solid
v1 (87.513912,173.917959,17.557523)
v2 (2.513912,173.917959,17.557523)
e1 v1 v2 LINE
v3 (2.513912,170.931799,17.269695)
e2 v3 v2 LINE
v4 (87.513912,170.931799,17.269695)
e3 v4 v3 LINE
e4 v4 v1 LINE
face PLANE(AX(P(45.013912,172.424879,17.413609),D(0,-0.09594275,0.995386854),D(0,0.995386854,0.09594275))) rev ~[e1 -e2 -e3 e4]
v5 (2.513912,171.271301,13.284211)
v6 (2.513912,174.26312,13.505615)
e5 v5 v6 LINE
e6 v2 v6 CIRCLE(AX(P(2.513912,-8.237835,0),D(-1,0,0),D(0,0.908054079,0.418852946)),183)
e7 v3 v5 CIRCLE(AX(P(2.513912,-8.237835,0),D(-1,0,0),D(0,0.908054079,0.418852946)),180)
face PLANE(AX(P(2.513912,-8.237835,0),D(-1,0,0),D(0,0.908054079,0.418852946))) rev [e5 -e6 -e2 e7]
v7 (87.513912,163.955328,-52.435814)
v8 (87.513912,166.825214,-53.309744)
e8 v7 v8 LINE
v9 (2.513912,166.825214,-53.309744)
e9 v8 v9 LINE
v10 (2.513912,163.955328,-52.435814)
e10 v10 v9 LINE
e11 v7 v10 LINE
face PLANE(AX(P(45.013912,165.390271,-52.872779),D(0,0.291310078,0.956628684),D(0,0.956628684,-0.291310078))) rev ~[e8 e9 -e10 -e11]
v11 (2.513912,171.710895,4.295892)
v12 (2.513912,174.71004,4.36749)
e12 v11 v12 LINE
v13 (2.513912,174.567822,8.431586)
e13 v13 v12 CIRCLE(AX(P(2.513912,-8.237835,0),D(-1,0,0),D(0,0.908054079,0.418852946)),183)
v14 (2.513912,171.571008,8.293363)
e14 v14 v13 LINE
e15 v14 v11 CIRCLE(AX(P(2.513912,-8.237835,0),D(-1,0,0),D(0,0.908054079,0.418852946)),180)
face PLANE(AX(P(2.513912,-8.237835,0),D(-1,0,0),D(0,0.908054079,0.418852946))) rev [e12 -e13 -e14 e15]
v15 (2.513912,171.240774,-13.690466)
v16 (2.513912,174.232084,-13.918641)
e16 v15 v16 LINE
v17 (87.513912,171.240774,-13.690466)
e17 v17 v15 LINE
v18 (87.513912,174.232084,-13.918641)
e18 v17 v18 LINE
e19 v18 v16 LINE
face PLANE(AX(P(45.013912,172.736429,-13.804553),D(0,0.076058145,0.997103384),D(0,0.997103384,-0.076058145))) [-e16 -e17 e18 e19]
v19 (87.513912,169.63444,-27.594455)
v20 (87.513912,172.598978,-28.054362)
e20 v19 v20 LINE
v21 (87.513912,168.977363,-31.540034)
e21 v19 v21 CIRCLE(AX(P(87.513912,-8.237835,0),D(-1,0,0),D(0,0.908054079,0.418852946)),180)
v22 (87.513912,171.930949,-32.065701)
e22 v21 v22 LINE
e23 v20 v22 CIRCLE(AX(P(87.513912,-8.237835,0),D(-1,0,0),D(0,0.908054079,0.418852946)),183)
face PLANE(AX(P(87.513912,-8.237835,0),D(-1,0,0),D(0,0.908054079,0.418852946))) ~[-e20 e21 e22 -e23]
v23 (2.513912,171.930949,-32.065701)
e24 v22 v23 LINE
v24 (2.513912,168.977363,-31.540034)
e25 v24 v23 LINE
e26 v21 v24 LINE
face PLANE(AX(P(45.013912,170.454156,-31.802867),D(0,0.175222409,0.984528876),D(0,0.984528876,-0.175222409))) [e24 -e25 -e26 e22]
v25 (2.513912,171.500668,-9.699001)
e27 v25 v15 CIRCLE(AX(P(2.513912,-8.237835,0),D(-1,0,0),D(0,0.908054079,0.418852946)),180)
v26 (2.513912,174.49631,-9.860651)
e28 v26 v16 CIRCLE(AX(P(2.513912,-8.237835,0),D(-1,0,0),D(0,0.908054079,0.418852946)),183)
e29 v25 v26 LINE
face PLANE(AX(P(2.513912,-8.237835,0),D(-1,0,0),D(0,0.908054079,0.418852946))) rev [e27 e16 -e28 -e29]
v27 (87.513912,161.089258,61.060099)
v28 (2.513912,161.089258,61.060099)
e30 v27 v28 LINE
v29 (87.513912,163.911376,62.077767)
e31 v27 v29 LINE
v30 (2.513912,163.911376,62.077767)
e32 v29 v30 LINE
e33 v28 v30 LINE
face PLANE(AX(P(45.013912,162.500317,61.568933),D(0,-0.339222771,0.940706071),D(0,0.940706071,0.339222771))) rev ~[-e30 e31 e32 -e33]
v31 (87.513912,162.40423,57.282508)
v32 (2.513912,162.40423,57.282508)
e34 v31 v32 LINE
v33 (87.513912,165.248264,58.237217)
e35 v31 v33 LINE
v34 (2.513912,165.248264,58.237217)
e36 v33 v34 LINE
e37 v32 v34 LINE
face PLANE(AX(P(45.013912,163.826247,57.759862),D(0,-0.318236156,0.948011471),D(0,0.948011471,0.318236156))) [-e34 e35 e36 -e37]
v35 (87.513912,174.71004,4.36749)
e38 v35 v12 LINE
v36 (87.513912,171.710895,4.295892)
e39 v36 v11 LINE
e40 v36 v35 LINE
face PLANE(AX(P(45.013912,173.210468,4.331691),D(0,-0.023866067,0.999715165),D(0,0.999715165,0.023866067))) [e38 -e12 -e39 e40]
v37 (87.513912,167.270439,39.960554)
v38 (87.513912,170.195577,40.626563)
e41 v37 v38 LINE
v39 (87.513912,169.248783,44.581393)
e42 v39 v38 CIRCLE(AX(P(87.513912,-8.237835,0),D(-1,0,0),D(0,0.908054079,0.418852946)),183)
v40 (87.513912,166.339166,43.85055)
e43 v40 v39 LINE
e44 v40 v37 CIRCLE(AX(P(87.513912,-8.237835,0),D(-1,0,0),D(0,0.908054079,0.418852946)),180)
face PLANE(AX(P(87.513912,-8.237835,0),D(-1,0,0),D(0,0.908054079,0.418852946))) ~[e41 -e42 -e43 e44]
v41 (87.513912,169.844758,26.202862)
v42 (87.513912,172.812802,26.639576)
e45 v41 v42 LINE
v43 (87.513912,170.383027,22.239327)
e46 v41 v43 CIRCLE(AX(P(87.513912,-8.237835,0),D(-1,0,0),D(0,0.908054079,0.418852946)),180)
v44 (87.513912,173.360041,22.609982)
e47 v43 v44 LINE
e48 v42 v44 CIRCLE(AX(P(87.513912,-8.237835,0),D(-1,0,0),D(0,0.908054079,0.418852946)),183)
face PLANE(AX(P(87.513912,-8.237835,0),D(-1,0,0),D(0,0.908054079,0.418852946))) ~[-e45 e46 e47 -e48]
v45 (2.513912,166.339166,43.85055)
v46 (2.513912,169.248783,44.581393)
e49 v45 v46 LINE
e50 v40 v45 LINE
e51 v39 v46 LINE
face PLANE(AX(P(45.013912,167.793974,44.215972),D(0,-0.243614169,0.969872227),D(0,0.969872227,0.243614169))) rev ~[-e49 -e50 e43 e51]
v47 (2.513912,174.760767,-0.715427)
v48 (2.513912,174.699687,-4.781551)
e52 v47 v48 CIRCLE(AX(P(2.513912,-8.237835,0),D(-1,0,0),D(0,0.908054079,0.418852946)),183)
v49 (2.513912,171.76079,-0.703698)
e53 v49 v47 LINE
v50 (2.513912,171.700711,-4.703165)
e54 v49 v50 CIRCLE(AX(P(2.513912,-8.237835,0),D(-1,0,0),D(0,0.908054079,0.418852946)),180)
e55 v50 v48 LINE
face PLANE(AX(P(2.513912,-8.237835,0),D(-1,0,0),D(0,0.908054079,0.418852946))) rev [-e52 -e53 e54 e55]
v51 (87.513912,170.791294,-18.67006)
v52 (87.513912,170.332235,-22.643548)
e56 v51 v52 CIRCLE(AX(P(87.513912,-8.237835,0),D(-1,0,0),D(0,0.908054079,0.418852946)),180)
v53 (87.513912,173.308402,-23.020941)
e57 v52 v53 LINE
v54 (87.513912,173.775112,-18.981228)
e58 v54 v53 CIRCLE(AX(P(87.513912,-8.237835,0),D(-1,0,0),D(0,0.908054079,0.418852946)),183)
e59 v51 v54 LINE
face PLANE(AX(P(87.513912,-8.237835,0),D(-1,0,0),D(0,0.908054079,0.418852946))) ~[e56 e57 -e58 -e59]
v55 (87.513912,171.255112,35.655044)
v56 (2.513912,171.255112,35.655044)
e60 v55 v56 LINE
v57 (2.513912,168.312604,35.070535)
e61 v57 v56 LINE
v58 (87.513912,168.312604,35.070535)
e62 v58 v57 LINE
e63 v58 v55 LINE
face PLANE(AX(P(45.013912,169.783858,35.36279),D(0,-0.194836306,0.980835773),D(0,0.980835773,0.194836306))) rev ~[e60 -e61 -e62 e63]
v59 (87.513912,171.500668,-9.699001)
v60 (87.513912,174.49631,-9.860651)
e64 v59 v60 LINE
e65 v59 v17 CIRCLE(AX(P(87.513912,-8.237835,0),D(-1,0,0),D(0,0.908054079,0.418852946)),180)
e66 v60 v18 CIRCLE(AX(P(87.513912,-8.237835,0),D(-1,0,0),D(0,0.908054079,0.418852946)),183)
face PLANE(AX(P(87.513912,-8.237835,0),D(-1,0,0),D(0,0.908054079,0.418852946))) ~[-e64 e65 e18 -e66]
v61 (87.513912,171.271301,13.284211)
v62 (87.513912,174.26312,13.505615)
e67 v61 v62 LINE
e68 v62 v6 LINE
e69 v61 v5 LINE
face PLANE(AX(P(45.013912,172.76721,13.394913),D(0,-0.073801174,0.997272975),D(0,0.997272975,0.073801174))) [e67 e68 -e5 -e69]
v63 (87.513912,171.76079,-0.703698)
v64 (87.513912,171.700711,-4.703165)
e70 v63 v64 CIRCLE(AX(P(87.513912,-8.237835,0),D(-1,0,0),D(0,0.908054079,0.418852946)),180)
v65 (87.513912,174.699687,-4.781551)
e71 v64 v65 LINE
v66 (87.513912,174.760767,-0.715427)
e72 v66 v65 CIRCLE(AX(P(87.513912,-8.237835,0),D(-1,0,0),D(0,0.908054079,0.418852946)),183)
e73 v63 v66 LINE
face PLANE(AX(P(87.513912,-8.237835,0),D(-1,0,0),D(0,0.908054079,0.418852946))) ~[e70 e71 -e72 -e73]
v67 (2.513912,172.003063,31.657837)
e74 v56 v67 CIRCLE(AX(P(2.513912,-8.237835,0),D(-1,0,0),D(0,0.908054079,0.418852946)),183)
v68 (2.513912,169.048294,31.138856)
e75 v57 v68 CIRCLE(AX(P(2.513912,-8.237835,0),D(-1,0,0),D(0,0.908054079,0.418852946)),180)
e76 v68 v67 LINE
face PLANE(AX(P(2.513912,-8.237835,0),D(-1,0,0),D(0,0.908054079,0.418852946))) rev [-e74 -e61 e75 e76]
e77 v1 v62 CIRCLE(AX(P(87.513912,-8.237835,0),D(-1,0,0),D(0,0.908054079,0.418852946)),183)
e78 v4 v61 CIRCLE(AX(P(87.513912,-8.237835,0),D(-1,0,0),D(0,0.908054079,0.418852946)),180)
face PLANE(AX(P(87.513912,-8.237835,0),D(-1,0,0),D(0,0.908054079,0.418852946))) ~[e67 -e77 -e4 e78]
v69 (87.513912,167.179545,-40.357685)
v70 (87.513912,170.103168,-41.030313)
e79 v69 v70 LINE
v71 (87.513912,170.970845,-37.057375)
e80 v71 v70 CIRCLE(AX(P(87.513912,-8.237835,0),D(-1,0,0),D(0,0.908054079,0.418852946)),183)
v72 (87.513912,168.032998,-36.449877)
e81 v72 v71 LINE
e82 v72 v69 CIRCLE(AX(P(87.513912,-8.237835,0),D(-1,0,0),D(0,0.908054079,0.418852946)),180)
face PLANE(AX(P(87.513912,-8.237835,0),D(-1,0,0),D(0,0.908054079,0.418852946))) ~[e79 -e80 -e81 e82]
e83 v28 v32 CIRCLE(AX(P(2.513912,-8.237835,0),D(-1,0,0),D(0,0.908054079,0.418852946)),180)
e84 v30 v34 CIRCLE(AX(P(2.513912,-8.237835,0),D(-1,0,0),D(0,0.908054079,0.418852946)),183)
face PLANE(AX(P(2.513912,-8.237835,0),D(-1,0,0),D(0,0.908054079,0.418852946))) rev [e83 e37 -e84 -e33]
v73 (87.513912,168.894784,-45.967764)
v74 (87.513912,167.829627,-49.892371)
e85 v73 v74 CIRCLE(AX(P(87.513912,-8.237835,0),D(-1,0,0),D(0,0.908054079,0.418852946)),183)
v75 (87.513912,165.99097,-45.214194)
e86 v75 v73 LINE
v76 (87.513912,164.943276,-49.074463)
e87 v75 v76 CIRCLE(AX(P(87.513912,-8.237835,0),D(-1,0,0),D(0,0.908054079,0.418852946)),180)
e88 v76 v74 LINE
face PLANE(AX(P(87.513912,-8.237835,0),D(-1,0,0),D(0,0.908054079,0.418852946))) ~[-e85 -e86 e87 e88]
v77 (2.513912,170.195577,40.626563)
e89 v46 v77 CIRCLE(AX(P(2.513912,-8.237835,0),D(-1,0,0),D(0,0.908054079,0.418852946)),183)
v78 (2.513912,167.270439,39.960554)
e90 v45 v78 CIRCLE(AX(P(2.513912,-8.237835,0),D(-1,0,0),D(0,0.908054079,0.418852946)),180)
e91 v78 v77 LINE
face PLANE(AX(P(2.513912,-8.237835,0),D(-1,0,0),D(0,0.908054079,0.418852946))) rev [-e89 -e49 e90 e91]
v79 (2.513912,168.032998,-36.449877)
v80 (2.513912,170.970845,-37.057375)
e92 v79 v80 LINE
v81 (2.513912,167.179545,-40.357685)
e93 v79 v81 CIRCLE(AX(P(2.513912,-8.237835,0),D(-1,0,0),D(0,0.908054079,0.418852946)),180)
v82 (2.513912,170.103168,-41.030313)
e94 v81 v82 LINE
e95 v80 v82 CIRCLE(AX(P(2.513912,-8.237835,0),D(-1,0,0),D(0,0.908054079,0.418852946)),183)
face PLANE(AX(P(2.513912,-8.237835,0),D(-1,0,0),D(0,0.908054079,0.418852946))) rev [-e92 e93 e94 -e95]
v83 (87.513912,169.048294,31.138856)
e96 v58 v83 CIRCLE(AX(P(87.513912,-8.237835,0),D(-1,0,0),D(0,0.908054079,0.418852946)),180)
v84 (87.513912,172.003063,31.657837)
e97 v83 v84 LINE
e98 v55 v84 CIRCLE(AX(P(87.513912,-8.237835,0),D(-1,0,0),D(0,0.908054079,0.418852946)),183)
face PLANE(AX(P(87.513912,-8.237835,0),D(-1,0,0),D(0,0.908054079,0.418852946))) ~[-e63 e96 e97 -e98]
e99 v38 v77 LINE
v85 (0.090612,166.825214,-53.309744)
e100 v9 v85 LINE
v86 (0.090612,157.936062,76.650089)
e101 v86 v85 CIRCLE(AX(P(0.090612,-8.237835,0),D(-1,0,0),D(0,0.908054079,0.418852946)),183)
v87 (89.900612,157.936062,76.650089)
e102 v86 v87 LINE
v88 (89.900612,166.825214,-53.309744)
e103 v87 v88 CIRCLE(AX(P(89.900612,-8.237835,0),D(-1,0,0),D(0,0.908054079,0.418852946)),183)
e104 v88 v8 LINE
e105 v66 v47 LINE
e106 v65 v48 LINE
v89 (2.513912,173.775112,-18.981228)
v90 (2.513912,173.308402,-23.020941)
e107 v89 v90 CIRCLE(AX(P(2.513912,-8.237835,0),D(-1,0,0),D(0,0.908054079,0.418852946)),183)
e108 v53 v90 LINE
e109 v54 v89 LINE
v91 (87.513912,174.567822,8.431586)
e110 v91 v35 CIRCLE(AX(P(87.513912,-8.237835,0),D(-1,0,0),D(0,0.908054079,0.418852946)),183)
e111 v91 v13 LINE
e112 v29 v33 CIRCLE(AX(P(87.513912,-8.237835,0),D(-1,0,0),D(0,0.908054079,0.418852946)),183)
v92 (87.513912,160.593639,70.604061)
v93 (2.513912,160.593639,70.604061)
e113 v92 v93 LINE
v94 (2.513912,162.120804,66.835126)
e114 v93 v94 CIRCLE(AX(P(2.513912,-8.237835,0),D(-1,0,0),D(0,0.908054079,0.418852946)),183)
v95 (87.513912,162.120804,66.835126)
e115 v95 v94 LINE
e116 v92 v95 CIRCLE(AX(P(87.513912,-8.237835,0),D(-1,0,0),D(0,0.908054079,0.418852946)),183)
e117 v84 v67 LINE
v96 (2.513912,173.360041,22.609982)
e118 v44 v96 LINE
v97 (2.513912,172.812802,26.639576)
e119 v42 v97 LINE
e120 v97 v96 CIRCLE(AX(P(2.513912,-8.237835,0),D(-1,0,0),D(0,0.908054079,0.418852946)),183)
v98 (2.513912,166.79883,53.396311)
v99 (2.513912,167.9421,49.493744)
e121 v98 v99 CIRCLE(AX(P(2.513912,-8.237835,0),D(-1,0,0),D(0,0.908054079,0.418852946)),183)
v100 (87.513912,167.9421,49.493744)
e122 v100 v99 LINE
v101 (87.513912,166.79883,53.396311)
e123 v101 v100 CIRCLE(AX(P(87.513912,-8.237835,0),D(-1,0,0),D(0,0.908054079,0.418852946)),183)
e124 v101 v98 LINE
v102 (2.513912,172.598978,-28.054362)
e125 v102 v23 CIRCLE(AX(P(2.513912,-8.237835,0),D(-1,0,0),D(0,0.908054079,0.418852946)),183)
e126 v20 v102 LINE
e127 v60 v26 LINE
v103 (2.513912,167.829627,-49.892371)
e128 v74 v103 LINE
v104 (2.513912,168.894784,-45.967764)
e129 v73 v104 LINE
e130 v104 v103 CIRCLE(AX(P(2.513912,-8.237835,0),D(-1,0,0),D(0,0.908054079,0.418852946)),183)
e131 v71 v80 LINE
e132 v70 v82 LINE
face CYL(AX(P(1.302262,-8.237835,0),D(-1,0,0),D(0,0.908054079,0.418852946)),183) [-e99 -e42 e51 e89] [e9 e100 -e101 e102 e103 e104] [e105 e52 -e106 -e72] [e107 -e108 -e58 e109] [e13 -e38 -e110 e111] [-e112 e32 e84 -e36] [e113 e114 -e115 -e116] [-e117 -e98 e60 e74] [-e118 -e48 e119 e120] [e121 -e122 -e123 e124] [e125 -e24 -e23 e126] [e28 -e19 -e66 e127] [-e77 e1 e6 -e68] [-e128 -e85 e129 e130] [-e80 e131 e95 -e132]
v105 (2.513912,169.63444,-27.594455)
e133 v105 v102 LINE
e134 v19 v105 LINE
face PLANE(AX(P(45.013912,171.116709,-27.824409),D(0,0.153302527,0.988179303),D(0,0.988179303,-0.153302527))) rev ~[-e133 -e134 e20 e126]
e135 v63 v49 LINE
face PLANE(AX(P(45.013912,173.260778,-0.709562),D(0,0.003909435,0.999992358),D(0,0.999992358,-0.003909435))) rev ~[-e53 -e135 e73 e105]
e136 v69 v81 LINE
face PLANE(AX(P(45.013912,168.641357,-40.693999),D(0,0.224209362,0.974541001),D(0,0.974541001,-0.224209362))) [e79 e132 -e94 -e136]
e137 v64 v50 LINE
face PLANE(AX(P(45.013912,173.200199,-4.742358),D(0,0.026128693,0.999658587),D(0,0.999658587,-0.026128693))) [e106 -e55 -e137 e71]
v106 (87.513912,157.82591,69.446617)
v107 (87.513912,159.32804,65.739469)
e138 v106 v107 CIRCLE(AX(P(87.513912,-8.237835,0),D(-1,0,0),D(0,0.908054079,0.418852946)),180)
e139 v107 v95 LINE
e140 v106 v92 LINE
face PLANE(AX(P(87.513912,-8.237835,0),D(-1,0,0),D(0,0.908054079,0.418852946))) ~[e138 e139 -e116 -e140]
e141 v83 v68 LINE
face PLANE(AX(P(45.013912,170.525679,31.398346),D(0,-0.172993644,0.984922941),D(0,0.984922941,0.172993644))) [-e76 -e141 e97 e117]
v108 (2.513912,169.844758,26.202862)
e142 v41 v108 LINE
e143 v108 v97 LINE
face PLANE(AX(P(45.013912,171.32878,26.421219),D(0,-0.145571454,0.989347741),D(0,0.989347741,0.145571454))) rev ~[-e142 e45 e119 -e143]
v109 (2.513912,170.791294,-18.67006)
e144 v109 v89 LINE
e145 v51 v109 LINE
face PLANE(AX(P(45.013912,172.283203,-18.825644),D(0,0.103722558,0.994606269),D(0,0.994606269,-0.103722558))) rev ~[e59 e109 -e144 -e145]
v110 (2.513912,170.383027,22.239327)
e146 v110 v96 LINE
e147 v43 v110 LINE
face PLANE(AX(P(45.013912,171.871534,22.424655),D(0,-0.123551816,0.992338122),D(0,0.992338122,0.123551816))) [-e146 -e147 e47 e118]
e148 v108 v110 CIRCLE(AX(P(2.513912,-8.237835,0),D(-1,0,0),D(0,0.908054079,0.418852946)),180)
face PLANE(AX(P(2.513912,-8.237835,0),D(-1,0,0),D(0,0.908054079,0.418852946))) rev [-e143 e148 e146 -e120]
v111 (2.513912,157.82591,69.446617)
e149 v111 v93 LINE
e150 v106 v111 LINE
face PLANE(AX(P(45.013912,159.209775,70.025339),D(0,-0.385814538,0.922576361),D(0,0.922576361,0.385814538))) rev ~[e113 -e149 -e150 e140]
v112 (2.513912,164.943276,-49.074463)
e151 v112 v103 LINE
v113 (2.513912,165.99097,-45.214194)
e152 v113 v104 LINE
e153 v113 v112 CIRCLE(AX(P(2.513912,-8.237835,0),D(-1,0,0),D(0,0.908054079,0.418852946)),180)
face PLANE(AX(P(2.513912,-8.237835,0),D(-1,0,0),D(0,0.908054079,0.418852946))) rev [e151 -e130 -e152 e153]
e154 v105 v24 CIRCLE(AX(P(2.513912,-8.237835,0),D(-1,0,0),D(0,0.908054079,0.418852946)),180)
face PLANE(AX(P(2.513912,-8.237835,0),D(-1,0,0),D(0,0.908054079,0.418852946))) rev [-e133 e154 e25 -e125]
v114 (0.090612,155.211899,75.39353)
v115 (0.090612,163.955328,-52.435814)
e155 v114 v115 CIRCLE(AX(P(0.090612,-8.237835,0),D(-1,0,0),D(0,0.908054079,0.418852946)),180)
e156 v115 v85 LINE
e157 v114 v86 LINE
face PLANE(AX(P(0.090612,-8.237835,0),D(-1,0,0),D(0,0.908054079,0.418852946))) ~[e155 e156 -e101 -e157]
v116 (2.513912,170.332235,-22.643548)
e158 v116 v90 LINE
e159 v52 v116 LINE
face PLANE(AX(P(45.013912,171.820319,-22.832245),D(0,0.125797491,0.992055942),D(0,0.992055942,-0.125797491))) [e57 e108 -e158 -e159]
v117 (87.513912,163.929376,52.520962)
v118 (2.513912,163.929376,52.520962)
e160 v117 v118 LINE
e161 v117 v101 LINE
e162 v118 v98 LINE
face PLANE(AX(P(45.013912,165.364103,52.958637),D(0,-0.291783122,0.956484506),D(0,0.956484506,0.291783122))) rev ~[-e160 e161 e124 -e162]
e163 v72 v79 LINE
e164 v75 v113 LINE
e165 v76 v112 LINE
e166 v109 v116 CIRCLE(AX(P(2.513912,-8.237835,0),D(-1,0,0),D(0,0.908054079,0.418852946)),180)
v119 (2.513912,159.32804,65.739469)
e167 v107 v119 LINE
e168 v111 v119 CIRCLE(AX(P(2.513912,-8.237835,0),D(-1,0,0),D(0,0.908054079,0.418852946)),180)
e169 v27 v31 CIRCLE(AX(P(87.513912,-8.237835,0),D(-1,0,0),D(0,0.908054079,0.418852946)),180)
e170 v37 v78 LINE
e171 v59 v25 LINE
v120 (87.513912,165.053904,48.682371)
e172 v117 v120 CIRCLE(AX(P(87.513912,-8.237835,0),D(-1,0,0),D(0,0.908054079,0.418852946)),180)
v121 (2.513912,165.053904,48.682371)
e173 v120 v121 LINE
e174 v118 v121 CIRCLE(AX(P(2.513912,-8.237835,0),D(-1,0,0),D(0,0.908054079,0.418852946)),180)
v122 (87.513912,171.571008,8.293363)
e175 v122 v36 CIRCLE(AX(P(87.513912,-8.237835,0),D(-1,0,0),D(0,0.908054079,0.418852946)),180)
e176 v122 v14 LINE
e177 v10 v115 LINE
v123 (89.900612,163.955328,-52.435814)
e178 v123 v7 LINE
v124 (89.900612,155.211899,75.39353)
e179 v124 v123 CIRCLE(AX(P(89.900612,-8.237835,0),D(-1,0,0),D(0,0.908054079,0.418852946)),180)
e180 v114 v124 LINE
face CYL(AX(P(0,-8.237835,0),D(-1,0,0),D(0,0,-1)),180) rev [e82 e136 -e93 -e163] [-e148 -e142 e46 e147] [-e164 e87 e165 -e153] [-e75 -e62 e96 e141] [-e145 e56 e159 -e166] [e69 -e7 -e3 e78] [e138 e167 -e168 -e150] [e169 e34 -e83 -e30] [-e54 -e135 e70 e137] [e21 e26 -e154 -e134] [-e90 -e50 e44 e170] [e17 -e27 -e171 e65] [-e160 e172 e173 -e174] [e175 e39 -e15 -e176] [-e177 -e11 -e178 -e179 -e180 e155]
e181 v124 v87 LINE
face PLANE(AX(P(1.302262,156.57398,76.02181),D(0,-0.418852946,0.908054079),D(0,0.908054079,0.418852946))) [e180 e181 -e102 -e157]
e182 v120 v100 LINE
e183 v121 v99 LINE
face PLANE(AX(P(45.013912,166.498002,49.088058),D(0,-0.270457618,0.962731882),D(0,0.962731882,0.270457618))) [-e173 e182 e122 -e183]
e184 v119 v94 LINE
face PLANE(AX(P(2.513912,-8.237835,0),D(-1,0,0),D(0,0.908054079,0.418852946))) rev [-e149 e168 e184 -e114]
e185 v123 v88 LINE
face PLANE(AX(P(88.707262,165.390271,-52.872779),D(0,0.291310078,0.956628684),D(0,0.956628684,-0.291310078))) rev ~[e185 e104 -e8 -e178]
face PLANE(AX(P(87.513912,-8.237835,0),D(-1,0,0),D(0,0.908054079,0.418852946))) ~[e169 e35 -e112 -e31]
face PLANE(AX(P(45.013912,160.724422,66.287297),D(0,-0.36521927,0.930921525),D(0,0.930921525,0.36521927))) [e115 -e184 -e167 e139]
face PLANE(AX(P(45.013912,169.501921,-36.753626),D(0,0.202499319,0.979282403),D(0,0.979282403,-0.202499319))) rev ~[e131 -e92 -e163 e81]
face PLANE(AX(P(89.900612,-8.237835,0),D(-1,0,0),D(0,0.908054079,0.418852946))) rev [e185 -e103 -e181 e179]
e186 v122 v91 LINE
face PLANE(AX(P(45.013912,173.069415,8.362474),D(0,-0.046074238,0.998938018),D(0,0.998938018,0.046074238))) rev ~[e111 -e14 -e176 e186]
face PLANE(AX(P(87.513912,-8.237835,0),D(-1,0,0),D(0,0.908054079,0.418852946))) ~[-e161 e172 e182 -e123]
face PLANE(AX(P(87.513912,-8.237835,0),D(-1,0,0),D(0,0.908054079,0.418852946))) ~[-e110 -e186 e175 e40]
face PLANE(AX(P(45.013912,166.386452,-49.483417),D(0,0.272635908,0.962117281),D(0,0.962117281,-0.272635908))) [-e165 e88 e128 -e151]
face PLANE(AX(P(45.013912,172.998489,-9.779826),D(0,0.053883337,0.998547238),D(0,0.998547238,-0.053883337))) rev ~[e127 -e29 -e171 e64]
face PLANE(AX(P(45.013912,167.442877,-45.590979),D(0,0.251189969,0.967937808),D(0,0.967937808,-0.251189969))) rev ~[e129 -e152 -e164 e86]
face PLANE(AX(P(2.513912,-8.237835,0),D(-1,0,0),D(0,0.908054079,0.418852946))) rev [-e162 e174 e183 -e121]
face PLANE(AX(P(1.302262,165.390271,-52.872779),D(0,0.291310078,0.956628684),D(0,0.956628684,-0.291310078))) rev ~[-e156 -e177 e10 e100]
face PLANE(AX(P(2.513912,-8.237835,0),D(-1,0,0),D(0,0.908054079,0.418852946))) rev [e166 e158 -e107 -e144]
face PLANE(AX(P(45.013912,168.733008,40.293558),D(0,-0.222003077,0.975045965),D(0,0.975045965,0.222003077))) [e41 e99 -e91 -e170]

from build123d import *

# Parameters (mm, degrees)
SKETCH2_R                 = 180
SKETCH2_R_2               = 178
EXTRUDE_THIN1_DEPTH       = 90
WRAP1_SECTION_W           = 3
WRAP1_SECTION_H           = 2.3866999
WRAP1_ANGLE               = 41.69859509
WRAP1_SECTOR_2_SECTION_W  = 3
WRAP1_SECTOR_2_SECTION_H  = 85
WRAP1_SECTOR_2_ANGLE      = 2.067873213
WRAP1_SECTOR_3_SECTION_W  = 3
WRAP1_SECTOR_3_SECTION_H  = 85
WRAP1_SECTOR_3_ANGLE      = 1.591549431
WRAP1_SECTOR_4_SECTION_W  = 3
WRAP1_SECTOR_4_SECTION_H  = 85
WRAP1_SECTOR_4_ANGLE      = 1.591549431
WRAP1_SECTOR_5_SECTION_W  = 3
WRAP1_SECTOR_5_SECTION_H  = 85
WRAP1_SECTOR_5_ANGLE      = 1.591549431
WRAP1_SECTOR_6_SECTION_W  = 3
WRAP1_SECTOR_6_SECTION_H  = 85
WRAP1_SECTOR_6_ANGLE      = 1.591549431
WRAP1_SECTOR_7_SECTION_W  = 3
WRAP1_SECTOR_7_SECTION_H  = 85
WRAP1_SECTOR_7_ANGLE      = 1.591549431
WRAP1_SECTOR_8_SECTION_W  = 3
WRAP1_SECTOR_8_SECTION_H  = 85
WRAP1_SECTOR_8_ANGLE      = 1.591549431
WRAP1_SECTOR_9_SECTION_W  = 3
WRAP1_SECTOR_9_SECTION_H  = 85
WRAP1_SECTOR_9_ANGLE      = 1.591549431
WRAP1_SECTOR_10_SECTION_W = 3
WRAP1_SECTOR_10_SECTION_H = 85
WRAP1_SECTOR_10_ANGLE     = 1.591549431
WRAP1_SECTOR_11_SECTION_W = 3
WRAP1_SECTOR_11_SECTION_H = 85
WRAP1_SECTOR_11_ANGLE     = 1.591549431
WRAP1_SECTOR_12_SECTION_W = 3
WRAP1_SECTOR_12_SECTION_H = 85
WRAP1_SECTOR_12_ANGLE     = 1.591549431
WRAP1_SECTOR_13_SECTION_W = 3
WRAP1_SECTOR_13_SECTION_H = 85
WRAP1_SECTOR_13_ANGLE     = 1.591549431
WRAP1_SECTOR_14_SECTION_W = 3
WRAP1_SECTOR_14_SECTION_H = 85
WRAP1_SECTOR_14_ANGLE     = 1.591549431
WRAP1_SECTOR_15_SECTION_W = 3
WRAP1_SECTOR_15_SECTION_H = 85
WRAP1_SECTOR_15_ANGLE     = 1.591549431
WRAP1_SECTOR_16_SECTION_W = 3
WRAP1_SECTOR_16_SECTION_H = 85
WRAP1_SECTOR_16_ANGLE     = 1.115225649
WRAP1_SECTOR_17_SECTION_W = 3
WRAP1_SECTOR_17_SECTION_H = 2.4233001
WRAP1_SECTOR_17_ANGLE     = 41.69859509
SKETCH5_R                 = 180
CUT_EXTRUDE1_DEPTH        = 119


with BuildPart() as part:
    # Sketch2 → Extrude-Thin1 (new body)
    with BuildSketch(Plane(origin=(0, 0, 0), x_dir=(0, 0, -1), z_dir=(1, 0, 0))):
        with Locations((0, -8.237834894)):
            Circle(SKETCH2_R)
        with Locations((0, -8.237834894)):
            Circle(SKETCH2_R_2, mode=Mode.SUBTRACT)
    extrude(amount=EXTRUDE_THIN1_DEPTH)

    # Wrap1 section (on wrap section) → Wrap1 (revolve)
    with BuildSketch(Plane(origin=(0, -8.237834894, 0), x_dir=(0, 0.9080540786996547, 0.41885294574220344), z_dir=(0, -0.41885294574220344, 0.9080540786996547))):
        with Locations((181.5, -88.70726195)):
            Rectangle(WRAP1_SECTION_W, WRAP1_SECTION_H)
    revolve(axis=Axis((0, -8.237834894, 0), (-1, 0, 0)), revolution_arc=WRAP1_ANGLE)

    # Wrap1 sector 2 section (on wrap section) → Wrap1 sector 2 (revolve)
    with BuildSketch(Plane(origin=(0, -8.237834894, 0), x_dir=(0, 0.9080540786996547, 0.41885294574220344), z_dir=(0, -0.41885294574220344, 0.9080540786996547))):
        with Locations((181.5, -45.013912)):
            Rectangle(WRAP1_SECTOR_2_SECTION_W, WRAP1_SECTOR_2_SECTION_H)
    revolve(axis=Axis((0, -8.237834894, 0), (-1, 0, 0)), revolution_arc=WRAP1_SECTOR_2_ANGLE)

    # Wrap1 sector 3 section (on wrap section) → Wrap1 sector 3 (revolve)
    with BuildSketch(Plane(origin=(0, -8.237834894, 0), x_dir=(0, 0.9309215245835882, 0.3652192698461676), z_dir=(0, -0.3652192698461676, 0.9309215245835882))):
        with Locations((181.5, -45.013912)):
            Rectangle(WRAP1_SECTOR_3_SECTION_W, WRAP1_SECTOR_3_SECTION_H)
    revolve(axis=Axis((0, -8.237834894, 0), (-1, 0, 0)), revolution_arc=WRAP1_SECTOR_3_ANGLE)

    # Wrap1 sector 4 section (on wrap section) → Wrap1 sector 4 (revolve)
    with BuildSketch(Plane(origin=(0, -8.237834894, 0), x_dir=(0, 0.9480114707936929, 0.3182361564052382), z_dir=(0, -0.3182361564052382, 0.9480114707936929))):
        with Locations((181.5, -45.013912)):
            Rectangle(WRAP1_SECTOR_4_SECTION_W, WRAP1_SECTOR_4_SECTION_H)
    revolve(axis=Axis((0, -8.237834894, 0), (-1, 0, 0)), revolution_arc=WRAP1_SECTOR_4_ANGLE)

    # Wrap1 sector 5 section (on wrap section) → Wrap1 sector 5 (revolve)
    with BuildSketch(Plane(origin=(0, -8.237834894, 0), x_dir=(0, 0.9627318820416432, 0.2704576183074822), z_dir=(0, -0.2704576183074822, 0.9627318820416432))):
        with Locations((181.5, -45.013912)):
            Rectangle(WRAP1_SECTOR_5_SECTION_W, WRAP1_SECTOR_5_SECTION_H)
    revolve(axis=Axis((0, -8.237834894, 0), (-1, 0, 0)), revolution_arc=WRAP1_SECTOR_5_ANGLE)

    # Wrap1 sector 6 section (on wrap section) → Wrap1 sector 6 (revolve)
    with BuildSketch(Plane(origin=(0, -8.237834894, 0), x_dir=(0, 0.9750459649655612, 0.22200307701556227), z_dir=(0, -0.22200307701556227, 0.9750459649655612))):
        with Locations((181.5, -45.013912)):
            Rectangle(WRAP1_SECTOR_6_SECTION_W, WRAP1_SECTOR_6_SECTION_H)
    revolve(axis=Axis((0, -8.237834894, 0), (-1, 0, 0)), revolution_arc=WRAP1_SECTOR_6_ANGLE)

    # Wrap1 sector 7 section (on wrap section) → Wrap1 sector 7 (revolve)
    with BuildSketch(Plane(origin=(0, -8.237834894, 0), x_dir=(0, 0.9849229407711876, 0.17299364364807088), z_dir=(0, -0.17299364364807088, 0.9849229407711876))):
        with Locations((181.5, -45.013912)):
            Rectangle(WRAP1_SECTOR_7_SECTION_W, WRAP1_SECTOR_7_SECTION_H)
    revolve(axis=Axis((0, -8.237834894, 0), (-1, 0, 0)), revolution_arc=WRAP1_SECTOR_7_ANGLE)

    # Wrap1 sector 8 section (on wrap section) → Wrap1 sector 8 (revolve)
    with BuildSketch(Plane(origin=(0, -8.237834894, 0), x_dir=(0, 0.9923381221628379, 0.1235518162648073), z_dir=(0, -0.1235518162648073, 0.9923381221628379))):
        with Locations((181.5, -45.013912)):
            Rectangle(WRAP1_SECTOR_8_SECTION_W, WRAP1_SECTOR_8_SECTION_H)
    revolve(axis=Axis((0, -8.237834894, 0), (-1, 0, 0)), revolution_arc=WRAP1_SECTOR_8_ANGLE)

    # Wrap1 sector 9 section (on wrap section) → Wrap1 sector 9 (revolve)
    with BuildSketch(Plane(origin=(0, -8.237834894, 0), x_dir=(0, 0.9972729750487846, 0.07380117368542383), z_dir=(0, -0.07380117368542383, 0.9972729750487846))):
        with Locations((181.5, -45.013912)):
            Rectangle(WRAP1_SECTOR_9_SECTION_W, WRAP1_SECTOR_9_SECTION_H)
    revolve(axis=Axis((0, -8.237834894, 0), (-1, 0, 0)), revolution_arc=WRAP1_SECTOR_9_ANGLE)

    # Wrap1 sector 10 section (on wrap section) → Wrap1 sector 10 (revolve)
    with BuildSketch(Plane(origin=(0, -8.237834894, 0), x_dir=(0, 0.9997151648668349, 0.02386606660673497), z_dir=(0, -0.02386606660673497, 0.9997151648668349))):
        with Locations((181.5, -45.013912)):
            Rectangle(WRAP1_SECTOR_10_SECTION_W, WRAP1_SECTOR_10_SECTION_H)
    revolve(axis=Axis((0, -8.237834894, 0), (-1, 0, 0)), revolution_arc=WRAP1_SECTOR_10_ANGLE)

    # Wrap1 sector 11 section (on wrap section) → Wrap1 sector 11 (revolve)
    with BuildSketch(Plane(origin=(0, -8.237834894, 0), x_dir=(0, 0.9996585874143112, -0.02612869320926344), z_dir=(0, 0.02612869320926344, 0.9996585874143112))):
        with Locations((181.5, -45.013912)):
            Rectangle(WRAP1_SECTOR_11_SECTION_W, WRAP1_SECTOR_11_SECTION_H)
    revolve(axis=Axis((0, -8.237834894, 0), (-1, 0, 0)), revolution_arc=WRAP1_SECTOR_11_ANGLE)

    # Wrap1 sector 12 section (on wrap section) → Wrap1 sector 12 (revolve)
    with BuildSketch(Plane(origin=(0, -8.237834894, 0), x_dir=(0, 0.9971033841053801, -0.07605814489979906), z_dir=(0, 0.07605814489979906, 0.9971033841053801))):
        with Locations((181.5, -45.013912)):
            Rectangle(WRAP1_SECTOR_12_SECTION_W, WRAP1_SECTOR_12_SECTION_H)
    revolve(axis=Axis((0, -8.237834894, 0), (-1, 0, 0)), revolution_arc=WRAP1_SECTOR_12_ANGLE)

    # Wrap1 sector 13 section (on wrap section) → Wrap1 sector 13 (revolve)
    with BuildSketch(Plane(origin=(0, -8.237834894, 0), x_dir=(0, 0.9920559416175896, -0.12579749083840142), z_dir=(0, 0.12579749083840142, 0.9920559416175896))):
        with Locations((181.5, -45.013912)):
            Rectangle(WRAP1_SECTOR_13_SECTION_W, WRAP1_SECTOR_13_SECTION_H)
    revolve(axis=Axis((0, -8.237834894, 0), (-1, 0, 0)), revolution_arc=WRAP1_SECTOR_13_ANGLE)

    # Wrap1 sector 14 section (on wrap section) → Wrap1 sector 14 (revolve)
    with BuildSketch(Plane(origin=(0, -8.237834894, 0), x_dir=(0, 0.984528875928502, -0.17522240856397442), z_dir=(0, 0.17522240856397442, 0.984528875928502))):
        with Locations((181.5, -45.013912)):
            Rectangle(WRAP1_SECTOR_14_SECTION_W, WRAP1_SECTOR_14_SECTION_H)
    revolve(axis=Axis((0, -8.237834894, 0), (-1, 0, 0)), revolution_arc=WRAP1_SECTOR_14_ANGLE)

    # Wrap1 sector 15 section (on wrap section) → Wrap1 sector 15 (revolve)
    with BuildSketch(Plane(origin=(0, -8.237834894, 0), x_dir=(0, 0.97454100078232, -0.22420936152220386), z_dir=(0, 0.22420936152220386, 0.97454100078232))):
        with Locations((181.5, -45.013912)):
            Rectangle(WRAP1_SECTOR_15_SECTION_W, WRAP1_SECTOR_15_SECTION_H)
    revolve(axis=Axis((0, -8.237834894, 0), (-1, 0, 0)), revolution_arc=WRAP1_SECTOR_15_ANGLE)

    # Wrap1 sector 16 section (on wrap section) → Wrap1 sector 16 (revolve)
    with BuildSketch(Plane(origin=(0, -8.237834894, 0), x_dir=(0, 0.9621172806653241, -0.27263590784260605), z_dir=(0, 0.27263590784260605, 0.9621172806653241))):
        with Locations((181.5, -45.013912)):
            Rectangle(WRAP1_SECTOR_16_SECTION_W, WRAP1_SECTOR_16_SECTION_H)
    revolve(axis=Axis((0, -8.237834894, 0), (-1, 0, 0)), revolution_arc=WRAP1_SECTOR_16_ANGLE)

    # Wrap1 sector 17 section (on wrap section) → Wrap1 sector 17 (revolve)
    with BuildSketch(Plane(origin=(0, -8.237834894, 0), x_dir=(0, 0.9080540786996547, 0.41885294574220344), z_dir=(0, -0.41885294574220344, 0.9080540786996547))):
        with Locations((181.5, -1.30226195)):
            Rectangle(WRAP1_SECTOR_17_SECTION_W, WRAP1_SECTOR_17_SECTION_H)
    revolve(axis=Axis((0, -8.237834894, 0), (-1, 0, 0)), revolution_arc=WRAP1_SECTOR_17_ANGLE)

    # Sketch5 → Cut-Extrude1 (cut)
    with BuildSketch(Plane(origin=(0, 0, 0), x_dir=(0, 0, -1), z_dir=(1, 0, 0))):
        with Locations((0, -8.237834894)):
            Circle(SKETCH5_R)
    extrude(amount=CUT_EXTRUDE1_DEPTH, mode=Mode.SUBTRACT)


solid = part.part
